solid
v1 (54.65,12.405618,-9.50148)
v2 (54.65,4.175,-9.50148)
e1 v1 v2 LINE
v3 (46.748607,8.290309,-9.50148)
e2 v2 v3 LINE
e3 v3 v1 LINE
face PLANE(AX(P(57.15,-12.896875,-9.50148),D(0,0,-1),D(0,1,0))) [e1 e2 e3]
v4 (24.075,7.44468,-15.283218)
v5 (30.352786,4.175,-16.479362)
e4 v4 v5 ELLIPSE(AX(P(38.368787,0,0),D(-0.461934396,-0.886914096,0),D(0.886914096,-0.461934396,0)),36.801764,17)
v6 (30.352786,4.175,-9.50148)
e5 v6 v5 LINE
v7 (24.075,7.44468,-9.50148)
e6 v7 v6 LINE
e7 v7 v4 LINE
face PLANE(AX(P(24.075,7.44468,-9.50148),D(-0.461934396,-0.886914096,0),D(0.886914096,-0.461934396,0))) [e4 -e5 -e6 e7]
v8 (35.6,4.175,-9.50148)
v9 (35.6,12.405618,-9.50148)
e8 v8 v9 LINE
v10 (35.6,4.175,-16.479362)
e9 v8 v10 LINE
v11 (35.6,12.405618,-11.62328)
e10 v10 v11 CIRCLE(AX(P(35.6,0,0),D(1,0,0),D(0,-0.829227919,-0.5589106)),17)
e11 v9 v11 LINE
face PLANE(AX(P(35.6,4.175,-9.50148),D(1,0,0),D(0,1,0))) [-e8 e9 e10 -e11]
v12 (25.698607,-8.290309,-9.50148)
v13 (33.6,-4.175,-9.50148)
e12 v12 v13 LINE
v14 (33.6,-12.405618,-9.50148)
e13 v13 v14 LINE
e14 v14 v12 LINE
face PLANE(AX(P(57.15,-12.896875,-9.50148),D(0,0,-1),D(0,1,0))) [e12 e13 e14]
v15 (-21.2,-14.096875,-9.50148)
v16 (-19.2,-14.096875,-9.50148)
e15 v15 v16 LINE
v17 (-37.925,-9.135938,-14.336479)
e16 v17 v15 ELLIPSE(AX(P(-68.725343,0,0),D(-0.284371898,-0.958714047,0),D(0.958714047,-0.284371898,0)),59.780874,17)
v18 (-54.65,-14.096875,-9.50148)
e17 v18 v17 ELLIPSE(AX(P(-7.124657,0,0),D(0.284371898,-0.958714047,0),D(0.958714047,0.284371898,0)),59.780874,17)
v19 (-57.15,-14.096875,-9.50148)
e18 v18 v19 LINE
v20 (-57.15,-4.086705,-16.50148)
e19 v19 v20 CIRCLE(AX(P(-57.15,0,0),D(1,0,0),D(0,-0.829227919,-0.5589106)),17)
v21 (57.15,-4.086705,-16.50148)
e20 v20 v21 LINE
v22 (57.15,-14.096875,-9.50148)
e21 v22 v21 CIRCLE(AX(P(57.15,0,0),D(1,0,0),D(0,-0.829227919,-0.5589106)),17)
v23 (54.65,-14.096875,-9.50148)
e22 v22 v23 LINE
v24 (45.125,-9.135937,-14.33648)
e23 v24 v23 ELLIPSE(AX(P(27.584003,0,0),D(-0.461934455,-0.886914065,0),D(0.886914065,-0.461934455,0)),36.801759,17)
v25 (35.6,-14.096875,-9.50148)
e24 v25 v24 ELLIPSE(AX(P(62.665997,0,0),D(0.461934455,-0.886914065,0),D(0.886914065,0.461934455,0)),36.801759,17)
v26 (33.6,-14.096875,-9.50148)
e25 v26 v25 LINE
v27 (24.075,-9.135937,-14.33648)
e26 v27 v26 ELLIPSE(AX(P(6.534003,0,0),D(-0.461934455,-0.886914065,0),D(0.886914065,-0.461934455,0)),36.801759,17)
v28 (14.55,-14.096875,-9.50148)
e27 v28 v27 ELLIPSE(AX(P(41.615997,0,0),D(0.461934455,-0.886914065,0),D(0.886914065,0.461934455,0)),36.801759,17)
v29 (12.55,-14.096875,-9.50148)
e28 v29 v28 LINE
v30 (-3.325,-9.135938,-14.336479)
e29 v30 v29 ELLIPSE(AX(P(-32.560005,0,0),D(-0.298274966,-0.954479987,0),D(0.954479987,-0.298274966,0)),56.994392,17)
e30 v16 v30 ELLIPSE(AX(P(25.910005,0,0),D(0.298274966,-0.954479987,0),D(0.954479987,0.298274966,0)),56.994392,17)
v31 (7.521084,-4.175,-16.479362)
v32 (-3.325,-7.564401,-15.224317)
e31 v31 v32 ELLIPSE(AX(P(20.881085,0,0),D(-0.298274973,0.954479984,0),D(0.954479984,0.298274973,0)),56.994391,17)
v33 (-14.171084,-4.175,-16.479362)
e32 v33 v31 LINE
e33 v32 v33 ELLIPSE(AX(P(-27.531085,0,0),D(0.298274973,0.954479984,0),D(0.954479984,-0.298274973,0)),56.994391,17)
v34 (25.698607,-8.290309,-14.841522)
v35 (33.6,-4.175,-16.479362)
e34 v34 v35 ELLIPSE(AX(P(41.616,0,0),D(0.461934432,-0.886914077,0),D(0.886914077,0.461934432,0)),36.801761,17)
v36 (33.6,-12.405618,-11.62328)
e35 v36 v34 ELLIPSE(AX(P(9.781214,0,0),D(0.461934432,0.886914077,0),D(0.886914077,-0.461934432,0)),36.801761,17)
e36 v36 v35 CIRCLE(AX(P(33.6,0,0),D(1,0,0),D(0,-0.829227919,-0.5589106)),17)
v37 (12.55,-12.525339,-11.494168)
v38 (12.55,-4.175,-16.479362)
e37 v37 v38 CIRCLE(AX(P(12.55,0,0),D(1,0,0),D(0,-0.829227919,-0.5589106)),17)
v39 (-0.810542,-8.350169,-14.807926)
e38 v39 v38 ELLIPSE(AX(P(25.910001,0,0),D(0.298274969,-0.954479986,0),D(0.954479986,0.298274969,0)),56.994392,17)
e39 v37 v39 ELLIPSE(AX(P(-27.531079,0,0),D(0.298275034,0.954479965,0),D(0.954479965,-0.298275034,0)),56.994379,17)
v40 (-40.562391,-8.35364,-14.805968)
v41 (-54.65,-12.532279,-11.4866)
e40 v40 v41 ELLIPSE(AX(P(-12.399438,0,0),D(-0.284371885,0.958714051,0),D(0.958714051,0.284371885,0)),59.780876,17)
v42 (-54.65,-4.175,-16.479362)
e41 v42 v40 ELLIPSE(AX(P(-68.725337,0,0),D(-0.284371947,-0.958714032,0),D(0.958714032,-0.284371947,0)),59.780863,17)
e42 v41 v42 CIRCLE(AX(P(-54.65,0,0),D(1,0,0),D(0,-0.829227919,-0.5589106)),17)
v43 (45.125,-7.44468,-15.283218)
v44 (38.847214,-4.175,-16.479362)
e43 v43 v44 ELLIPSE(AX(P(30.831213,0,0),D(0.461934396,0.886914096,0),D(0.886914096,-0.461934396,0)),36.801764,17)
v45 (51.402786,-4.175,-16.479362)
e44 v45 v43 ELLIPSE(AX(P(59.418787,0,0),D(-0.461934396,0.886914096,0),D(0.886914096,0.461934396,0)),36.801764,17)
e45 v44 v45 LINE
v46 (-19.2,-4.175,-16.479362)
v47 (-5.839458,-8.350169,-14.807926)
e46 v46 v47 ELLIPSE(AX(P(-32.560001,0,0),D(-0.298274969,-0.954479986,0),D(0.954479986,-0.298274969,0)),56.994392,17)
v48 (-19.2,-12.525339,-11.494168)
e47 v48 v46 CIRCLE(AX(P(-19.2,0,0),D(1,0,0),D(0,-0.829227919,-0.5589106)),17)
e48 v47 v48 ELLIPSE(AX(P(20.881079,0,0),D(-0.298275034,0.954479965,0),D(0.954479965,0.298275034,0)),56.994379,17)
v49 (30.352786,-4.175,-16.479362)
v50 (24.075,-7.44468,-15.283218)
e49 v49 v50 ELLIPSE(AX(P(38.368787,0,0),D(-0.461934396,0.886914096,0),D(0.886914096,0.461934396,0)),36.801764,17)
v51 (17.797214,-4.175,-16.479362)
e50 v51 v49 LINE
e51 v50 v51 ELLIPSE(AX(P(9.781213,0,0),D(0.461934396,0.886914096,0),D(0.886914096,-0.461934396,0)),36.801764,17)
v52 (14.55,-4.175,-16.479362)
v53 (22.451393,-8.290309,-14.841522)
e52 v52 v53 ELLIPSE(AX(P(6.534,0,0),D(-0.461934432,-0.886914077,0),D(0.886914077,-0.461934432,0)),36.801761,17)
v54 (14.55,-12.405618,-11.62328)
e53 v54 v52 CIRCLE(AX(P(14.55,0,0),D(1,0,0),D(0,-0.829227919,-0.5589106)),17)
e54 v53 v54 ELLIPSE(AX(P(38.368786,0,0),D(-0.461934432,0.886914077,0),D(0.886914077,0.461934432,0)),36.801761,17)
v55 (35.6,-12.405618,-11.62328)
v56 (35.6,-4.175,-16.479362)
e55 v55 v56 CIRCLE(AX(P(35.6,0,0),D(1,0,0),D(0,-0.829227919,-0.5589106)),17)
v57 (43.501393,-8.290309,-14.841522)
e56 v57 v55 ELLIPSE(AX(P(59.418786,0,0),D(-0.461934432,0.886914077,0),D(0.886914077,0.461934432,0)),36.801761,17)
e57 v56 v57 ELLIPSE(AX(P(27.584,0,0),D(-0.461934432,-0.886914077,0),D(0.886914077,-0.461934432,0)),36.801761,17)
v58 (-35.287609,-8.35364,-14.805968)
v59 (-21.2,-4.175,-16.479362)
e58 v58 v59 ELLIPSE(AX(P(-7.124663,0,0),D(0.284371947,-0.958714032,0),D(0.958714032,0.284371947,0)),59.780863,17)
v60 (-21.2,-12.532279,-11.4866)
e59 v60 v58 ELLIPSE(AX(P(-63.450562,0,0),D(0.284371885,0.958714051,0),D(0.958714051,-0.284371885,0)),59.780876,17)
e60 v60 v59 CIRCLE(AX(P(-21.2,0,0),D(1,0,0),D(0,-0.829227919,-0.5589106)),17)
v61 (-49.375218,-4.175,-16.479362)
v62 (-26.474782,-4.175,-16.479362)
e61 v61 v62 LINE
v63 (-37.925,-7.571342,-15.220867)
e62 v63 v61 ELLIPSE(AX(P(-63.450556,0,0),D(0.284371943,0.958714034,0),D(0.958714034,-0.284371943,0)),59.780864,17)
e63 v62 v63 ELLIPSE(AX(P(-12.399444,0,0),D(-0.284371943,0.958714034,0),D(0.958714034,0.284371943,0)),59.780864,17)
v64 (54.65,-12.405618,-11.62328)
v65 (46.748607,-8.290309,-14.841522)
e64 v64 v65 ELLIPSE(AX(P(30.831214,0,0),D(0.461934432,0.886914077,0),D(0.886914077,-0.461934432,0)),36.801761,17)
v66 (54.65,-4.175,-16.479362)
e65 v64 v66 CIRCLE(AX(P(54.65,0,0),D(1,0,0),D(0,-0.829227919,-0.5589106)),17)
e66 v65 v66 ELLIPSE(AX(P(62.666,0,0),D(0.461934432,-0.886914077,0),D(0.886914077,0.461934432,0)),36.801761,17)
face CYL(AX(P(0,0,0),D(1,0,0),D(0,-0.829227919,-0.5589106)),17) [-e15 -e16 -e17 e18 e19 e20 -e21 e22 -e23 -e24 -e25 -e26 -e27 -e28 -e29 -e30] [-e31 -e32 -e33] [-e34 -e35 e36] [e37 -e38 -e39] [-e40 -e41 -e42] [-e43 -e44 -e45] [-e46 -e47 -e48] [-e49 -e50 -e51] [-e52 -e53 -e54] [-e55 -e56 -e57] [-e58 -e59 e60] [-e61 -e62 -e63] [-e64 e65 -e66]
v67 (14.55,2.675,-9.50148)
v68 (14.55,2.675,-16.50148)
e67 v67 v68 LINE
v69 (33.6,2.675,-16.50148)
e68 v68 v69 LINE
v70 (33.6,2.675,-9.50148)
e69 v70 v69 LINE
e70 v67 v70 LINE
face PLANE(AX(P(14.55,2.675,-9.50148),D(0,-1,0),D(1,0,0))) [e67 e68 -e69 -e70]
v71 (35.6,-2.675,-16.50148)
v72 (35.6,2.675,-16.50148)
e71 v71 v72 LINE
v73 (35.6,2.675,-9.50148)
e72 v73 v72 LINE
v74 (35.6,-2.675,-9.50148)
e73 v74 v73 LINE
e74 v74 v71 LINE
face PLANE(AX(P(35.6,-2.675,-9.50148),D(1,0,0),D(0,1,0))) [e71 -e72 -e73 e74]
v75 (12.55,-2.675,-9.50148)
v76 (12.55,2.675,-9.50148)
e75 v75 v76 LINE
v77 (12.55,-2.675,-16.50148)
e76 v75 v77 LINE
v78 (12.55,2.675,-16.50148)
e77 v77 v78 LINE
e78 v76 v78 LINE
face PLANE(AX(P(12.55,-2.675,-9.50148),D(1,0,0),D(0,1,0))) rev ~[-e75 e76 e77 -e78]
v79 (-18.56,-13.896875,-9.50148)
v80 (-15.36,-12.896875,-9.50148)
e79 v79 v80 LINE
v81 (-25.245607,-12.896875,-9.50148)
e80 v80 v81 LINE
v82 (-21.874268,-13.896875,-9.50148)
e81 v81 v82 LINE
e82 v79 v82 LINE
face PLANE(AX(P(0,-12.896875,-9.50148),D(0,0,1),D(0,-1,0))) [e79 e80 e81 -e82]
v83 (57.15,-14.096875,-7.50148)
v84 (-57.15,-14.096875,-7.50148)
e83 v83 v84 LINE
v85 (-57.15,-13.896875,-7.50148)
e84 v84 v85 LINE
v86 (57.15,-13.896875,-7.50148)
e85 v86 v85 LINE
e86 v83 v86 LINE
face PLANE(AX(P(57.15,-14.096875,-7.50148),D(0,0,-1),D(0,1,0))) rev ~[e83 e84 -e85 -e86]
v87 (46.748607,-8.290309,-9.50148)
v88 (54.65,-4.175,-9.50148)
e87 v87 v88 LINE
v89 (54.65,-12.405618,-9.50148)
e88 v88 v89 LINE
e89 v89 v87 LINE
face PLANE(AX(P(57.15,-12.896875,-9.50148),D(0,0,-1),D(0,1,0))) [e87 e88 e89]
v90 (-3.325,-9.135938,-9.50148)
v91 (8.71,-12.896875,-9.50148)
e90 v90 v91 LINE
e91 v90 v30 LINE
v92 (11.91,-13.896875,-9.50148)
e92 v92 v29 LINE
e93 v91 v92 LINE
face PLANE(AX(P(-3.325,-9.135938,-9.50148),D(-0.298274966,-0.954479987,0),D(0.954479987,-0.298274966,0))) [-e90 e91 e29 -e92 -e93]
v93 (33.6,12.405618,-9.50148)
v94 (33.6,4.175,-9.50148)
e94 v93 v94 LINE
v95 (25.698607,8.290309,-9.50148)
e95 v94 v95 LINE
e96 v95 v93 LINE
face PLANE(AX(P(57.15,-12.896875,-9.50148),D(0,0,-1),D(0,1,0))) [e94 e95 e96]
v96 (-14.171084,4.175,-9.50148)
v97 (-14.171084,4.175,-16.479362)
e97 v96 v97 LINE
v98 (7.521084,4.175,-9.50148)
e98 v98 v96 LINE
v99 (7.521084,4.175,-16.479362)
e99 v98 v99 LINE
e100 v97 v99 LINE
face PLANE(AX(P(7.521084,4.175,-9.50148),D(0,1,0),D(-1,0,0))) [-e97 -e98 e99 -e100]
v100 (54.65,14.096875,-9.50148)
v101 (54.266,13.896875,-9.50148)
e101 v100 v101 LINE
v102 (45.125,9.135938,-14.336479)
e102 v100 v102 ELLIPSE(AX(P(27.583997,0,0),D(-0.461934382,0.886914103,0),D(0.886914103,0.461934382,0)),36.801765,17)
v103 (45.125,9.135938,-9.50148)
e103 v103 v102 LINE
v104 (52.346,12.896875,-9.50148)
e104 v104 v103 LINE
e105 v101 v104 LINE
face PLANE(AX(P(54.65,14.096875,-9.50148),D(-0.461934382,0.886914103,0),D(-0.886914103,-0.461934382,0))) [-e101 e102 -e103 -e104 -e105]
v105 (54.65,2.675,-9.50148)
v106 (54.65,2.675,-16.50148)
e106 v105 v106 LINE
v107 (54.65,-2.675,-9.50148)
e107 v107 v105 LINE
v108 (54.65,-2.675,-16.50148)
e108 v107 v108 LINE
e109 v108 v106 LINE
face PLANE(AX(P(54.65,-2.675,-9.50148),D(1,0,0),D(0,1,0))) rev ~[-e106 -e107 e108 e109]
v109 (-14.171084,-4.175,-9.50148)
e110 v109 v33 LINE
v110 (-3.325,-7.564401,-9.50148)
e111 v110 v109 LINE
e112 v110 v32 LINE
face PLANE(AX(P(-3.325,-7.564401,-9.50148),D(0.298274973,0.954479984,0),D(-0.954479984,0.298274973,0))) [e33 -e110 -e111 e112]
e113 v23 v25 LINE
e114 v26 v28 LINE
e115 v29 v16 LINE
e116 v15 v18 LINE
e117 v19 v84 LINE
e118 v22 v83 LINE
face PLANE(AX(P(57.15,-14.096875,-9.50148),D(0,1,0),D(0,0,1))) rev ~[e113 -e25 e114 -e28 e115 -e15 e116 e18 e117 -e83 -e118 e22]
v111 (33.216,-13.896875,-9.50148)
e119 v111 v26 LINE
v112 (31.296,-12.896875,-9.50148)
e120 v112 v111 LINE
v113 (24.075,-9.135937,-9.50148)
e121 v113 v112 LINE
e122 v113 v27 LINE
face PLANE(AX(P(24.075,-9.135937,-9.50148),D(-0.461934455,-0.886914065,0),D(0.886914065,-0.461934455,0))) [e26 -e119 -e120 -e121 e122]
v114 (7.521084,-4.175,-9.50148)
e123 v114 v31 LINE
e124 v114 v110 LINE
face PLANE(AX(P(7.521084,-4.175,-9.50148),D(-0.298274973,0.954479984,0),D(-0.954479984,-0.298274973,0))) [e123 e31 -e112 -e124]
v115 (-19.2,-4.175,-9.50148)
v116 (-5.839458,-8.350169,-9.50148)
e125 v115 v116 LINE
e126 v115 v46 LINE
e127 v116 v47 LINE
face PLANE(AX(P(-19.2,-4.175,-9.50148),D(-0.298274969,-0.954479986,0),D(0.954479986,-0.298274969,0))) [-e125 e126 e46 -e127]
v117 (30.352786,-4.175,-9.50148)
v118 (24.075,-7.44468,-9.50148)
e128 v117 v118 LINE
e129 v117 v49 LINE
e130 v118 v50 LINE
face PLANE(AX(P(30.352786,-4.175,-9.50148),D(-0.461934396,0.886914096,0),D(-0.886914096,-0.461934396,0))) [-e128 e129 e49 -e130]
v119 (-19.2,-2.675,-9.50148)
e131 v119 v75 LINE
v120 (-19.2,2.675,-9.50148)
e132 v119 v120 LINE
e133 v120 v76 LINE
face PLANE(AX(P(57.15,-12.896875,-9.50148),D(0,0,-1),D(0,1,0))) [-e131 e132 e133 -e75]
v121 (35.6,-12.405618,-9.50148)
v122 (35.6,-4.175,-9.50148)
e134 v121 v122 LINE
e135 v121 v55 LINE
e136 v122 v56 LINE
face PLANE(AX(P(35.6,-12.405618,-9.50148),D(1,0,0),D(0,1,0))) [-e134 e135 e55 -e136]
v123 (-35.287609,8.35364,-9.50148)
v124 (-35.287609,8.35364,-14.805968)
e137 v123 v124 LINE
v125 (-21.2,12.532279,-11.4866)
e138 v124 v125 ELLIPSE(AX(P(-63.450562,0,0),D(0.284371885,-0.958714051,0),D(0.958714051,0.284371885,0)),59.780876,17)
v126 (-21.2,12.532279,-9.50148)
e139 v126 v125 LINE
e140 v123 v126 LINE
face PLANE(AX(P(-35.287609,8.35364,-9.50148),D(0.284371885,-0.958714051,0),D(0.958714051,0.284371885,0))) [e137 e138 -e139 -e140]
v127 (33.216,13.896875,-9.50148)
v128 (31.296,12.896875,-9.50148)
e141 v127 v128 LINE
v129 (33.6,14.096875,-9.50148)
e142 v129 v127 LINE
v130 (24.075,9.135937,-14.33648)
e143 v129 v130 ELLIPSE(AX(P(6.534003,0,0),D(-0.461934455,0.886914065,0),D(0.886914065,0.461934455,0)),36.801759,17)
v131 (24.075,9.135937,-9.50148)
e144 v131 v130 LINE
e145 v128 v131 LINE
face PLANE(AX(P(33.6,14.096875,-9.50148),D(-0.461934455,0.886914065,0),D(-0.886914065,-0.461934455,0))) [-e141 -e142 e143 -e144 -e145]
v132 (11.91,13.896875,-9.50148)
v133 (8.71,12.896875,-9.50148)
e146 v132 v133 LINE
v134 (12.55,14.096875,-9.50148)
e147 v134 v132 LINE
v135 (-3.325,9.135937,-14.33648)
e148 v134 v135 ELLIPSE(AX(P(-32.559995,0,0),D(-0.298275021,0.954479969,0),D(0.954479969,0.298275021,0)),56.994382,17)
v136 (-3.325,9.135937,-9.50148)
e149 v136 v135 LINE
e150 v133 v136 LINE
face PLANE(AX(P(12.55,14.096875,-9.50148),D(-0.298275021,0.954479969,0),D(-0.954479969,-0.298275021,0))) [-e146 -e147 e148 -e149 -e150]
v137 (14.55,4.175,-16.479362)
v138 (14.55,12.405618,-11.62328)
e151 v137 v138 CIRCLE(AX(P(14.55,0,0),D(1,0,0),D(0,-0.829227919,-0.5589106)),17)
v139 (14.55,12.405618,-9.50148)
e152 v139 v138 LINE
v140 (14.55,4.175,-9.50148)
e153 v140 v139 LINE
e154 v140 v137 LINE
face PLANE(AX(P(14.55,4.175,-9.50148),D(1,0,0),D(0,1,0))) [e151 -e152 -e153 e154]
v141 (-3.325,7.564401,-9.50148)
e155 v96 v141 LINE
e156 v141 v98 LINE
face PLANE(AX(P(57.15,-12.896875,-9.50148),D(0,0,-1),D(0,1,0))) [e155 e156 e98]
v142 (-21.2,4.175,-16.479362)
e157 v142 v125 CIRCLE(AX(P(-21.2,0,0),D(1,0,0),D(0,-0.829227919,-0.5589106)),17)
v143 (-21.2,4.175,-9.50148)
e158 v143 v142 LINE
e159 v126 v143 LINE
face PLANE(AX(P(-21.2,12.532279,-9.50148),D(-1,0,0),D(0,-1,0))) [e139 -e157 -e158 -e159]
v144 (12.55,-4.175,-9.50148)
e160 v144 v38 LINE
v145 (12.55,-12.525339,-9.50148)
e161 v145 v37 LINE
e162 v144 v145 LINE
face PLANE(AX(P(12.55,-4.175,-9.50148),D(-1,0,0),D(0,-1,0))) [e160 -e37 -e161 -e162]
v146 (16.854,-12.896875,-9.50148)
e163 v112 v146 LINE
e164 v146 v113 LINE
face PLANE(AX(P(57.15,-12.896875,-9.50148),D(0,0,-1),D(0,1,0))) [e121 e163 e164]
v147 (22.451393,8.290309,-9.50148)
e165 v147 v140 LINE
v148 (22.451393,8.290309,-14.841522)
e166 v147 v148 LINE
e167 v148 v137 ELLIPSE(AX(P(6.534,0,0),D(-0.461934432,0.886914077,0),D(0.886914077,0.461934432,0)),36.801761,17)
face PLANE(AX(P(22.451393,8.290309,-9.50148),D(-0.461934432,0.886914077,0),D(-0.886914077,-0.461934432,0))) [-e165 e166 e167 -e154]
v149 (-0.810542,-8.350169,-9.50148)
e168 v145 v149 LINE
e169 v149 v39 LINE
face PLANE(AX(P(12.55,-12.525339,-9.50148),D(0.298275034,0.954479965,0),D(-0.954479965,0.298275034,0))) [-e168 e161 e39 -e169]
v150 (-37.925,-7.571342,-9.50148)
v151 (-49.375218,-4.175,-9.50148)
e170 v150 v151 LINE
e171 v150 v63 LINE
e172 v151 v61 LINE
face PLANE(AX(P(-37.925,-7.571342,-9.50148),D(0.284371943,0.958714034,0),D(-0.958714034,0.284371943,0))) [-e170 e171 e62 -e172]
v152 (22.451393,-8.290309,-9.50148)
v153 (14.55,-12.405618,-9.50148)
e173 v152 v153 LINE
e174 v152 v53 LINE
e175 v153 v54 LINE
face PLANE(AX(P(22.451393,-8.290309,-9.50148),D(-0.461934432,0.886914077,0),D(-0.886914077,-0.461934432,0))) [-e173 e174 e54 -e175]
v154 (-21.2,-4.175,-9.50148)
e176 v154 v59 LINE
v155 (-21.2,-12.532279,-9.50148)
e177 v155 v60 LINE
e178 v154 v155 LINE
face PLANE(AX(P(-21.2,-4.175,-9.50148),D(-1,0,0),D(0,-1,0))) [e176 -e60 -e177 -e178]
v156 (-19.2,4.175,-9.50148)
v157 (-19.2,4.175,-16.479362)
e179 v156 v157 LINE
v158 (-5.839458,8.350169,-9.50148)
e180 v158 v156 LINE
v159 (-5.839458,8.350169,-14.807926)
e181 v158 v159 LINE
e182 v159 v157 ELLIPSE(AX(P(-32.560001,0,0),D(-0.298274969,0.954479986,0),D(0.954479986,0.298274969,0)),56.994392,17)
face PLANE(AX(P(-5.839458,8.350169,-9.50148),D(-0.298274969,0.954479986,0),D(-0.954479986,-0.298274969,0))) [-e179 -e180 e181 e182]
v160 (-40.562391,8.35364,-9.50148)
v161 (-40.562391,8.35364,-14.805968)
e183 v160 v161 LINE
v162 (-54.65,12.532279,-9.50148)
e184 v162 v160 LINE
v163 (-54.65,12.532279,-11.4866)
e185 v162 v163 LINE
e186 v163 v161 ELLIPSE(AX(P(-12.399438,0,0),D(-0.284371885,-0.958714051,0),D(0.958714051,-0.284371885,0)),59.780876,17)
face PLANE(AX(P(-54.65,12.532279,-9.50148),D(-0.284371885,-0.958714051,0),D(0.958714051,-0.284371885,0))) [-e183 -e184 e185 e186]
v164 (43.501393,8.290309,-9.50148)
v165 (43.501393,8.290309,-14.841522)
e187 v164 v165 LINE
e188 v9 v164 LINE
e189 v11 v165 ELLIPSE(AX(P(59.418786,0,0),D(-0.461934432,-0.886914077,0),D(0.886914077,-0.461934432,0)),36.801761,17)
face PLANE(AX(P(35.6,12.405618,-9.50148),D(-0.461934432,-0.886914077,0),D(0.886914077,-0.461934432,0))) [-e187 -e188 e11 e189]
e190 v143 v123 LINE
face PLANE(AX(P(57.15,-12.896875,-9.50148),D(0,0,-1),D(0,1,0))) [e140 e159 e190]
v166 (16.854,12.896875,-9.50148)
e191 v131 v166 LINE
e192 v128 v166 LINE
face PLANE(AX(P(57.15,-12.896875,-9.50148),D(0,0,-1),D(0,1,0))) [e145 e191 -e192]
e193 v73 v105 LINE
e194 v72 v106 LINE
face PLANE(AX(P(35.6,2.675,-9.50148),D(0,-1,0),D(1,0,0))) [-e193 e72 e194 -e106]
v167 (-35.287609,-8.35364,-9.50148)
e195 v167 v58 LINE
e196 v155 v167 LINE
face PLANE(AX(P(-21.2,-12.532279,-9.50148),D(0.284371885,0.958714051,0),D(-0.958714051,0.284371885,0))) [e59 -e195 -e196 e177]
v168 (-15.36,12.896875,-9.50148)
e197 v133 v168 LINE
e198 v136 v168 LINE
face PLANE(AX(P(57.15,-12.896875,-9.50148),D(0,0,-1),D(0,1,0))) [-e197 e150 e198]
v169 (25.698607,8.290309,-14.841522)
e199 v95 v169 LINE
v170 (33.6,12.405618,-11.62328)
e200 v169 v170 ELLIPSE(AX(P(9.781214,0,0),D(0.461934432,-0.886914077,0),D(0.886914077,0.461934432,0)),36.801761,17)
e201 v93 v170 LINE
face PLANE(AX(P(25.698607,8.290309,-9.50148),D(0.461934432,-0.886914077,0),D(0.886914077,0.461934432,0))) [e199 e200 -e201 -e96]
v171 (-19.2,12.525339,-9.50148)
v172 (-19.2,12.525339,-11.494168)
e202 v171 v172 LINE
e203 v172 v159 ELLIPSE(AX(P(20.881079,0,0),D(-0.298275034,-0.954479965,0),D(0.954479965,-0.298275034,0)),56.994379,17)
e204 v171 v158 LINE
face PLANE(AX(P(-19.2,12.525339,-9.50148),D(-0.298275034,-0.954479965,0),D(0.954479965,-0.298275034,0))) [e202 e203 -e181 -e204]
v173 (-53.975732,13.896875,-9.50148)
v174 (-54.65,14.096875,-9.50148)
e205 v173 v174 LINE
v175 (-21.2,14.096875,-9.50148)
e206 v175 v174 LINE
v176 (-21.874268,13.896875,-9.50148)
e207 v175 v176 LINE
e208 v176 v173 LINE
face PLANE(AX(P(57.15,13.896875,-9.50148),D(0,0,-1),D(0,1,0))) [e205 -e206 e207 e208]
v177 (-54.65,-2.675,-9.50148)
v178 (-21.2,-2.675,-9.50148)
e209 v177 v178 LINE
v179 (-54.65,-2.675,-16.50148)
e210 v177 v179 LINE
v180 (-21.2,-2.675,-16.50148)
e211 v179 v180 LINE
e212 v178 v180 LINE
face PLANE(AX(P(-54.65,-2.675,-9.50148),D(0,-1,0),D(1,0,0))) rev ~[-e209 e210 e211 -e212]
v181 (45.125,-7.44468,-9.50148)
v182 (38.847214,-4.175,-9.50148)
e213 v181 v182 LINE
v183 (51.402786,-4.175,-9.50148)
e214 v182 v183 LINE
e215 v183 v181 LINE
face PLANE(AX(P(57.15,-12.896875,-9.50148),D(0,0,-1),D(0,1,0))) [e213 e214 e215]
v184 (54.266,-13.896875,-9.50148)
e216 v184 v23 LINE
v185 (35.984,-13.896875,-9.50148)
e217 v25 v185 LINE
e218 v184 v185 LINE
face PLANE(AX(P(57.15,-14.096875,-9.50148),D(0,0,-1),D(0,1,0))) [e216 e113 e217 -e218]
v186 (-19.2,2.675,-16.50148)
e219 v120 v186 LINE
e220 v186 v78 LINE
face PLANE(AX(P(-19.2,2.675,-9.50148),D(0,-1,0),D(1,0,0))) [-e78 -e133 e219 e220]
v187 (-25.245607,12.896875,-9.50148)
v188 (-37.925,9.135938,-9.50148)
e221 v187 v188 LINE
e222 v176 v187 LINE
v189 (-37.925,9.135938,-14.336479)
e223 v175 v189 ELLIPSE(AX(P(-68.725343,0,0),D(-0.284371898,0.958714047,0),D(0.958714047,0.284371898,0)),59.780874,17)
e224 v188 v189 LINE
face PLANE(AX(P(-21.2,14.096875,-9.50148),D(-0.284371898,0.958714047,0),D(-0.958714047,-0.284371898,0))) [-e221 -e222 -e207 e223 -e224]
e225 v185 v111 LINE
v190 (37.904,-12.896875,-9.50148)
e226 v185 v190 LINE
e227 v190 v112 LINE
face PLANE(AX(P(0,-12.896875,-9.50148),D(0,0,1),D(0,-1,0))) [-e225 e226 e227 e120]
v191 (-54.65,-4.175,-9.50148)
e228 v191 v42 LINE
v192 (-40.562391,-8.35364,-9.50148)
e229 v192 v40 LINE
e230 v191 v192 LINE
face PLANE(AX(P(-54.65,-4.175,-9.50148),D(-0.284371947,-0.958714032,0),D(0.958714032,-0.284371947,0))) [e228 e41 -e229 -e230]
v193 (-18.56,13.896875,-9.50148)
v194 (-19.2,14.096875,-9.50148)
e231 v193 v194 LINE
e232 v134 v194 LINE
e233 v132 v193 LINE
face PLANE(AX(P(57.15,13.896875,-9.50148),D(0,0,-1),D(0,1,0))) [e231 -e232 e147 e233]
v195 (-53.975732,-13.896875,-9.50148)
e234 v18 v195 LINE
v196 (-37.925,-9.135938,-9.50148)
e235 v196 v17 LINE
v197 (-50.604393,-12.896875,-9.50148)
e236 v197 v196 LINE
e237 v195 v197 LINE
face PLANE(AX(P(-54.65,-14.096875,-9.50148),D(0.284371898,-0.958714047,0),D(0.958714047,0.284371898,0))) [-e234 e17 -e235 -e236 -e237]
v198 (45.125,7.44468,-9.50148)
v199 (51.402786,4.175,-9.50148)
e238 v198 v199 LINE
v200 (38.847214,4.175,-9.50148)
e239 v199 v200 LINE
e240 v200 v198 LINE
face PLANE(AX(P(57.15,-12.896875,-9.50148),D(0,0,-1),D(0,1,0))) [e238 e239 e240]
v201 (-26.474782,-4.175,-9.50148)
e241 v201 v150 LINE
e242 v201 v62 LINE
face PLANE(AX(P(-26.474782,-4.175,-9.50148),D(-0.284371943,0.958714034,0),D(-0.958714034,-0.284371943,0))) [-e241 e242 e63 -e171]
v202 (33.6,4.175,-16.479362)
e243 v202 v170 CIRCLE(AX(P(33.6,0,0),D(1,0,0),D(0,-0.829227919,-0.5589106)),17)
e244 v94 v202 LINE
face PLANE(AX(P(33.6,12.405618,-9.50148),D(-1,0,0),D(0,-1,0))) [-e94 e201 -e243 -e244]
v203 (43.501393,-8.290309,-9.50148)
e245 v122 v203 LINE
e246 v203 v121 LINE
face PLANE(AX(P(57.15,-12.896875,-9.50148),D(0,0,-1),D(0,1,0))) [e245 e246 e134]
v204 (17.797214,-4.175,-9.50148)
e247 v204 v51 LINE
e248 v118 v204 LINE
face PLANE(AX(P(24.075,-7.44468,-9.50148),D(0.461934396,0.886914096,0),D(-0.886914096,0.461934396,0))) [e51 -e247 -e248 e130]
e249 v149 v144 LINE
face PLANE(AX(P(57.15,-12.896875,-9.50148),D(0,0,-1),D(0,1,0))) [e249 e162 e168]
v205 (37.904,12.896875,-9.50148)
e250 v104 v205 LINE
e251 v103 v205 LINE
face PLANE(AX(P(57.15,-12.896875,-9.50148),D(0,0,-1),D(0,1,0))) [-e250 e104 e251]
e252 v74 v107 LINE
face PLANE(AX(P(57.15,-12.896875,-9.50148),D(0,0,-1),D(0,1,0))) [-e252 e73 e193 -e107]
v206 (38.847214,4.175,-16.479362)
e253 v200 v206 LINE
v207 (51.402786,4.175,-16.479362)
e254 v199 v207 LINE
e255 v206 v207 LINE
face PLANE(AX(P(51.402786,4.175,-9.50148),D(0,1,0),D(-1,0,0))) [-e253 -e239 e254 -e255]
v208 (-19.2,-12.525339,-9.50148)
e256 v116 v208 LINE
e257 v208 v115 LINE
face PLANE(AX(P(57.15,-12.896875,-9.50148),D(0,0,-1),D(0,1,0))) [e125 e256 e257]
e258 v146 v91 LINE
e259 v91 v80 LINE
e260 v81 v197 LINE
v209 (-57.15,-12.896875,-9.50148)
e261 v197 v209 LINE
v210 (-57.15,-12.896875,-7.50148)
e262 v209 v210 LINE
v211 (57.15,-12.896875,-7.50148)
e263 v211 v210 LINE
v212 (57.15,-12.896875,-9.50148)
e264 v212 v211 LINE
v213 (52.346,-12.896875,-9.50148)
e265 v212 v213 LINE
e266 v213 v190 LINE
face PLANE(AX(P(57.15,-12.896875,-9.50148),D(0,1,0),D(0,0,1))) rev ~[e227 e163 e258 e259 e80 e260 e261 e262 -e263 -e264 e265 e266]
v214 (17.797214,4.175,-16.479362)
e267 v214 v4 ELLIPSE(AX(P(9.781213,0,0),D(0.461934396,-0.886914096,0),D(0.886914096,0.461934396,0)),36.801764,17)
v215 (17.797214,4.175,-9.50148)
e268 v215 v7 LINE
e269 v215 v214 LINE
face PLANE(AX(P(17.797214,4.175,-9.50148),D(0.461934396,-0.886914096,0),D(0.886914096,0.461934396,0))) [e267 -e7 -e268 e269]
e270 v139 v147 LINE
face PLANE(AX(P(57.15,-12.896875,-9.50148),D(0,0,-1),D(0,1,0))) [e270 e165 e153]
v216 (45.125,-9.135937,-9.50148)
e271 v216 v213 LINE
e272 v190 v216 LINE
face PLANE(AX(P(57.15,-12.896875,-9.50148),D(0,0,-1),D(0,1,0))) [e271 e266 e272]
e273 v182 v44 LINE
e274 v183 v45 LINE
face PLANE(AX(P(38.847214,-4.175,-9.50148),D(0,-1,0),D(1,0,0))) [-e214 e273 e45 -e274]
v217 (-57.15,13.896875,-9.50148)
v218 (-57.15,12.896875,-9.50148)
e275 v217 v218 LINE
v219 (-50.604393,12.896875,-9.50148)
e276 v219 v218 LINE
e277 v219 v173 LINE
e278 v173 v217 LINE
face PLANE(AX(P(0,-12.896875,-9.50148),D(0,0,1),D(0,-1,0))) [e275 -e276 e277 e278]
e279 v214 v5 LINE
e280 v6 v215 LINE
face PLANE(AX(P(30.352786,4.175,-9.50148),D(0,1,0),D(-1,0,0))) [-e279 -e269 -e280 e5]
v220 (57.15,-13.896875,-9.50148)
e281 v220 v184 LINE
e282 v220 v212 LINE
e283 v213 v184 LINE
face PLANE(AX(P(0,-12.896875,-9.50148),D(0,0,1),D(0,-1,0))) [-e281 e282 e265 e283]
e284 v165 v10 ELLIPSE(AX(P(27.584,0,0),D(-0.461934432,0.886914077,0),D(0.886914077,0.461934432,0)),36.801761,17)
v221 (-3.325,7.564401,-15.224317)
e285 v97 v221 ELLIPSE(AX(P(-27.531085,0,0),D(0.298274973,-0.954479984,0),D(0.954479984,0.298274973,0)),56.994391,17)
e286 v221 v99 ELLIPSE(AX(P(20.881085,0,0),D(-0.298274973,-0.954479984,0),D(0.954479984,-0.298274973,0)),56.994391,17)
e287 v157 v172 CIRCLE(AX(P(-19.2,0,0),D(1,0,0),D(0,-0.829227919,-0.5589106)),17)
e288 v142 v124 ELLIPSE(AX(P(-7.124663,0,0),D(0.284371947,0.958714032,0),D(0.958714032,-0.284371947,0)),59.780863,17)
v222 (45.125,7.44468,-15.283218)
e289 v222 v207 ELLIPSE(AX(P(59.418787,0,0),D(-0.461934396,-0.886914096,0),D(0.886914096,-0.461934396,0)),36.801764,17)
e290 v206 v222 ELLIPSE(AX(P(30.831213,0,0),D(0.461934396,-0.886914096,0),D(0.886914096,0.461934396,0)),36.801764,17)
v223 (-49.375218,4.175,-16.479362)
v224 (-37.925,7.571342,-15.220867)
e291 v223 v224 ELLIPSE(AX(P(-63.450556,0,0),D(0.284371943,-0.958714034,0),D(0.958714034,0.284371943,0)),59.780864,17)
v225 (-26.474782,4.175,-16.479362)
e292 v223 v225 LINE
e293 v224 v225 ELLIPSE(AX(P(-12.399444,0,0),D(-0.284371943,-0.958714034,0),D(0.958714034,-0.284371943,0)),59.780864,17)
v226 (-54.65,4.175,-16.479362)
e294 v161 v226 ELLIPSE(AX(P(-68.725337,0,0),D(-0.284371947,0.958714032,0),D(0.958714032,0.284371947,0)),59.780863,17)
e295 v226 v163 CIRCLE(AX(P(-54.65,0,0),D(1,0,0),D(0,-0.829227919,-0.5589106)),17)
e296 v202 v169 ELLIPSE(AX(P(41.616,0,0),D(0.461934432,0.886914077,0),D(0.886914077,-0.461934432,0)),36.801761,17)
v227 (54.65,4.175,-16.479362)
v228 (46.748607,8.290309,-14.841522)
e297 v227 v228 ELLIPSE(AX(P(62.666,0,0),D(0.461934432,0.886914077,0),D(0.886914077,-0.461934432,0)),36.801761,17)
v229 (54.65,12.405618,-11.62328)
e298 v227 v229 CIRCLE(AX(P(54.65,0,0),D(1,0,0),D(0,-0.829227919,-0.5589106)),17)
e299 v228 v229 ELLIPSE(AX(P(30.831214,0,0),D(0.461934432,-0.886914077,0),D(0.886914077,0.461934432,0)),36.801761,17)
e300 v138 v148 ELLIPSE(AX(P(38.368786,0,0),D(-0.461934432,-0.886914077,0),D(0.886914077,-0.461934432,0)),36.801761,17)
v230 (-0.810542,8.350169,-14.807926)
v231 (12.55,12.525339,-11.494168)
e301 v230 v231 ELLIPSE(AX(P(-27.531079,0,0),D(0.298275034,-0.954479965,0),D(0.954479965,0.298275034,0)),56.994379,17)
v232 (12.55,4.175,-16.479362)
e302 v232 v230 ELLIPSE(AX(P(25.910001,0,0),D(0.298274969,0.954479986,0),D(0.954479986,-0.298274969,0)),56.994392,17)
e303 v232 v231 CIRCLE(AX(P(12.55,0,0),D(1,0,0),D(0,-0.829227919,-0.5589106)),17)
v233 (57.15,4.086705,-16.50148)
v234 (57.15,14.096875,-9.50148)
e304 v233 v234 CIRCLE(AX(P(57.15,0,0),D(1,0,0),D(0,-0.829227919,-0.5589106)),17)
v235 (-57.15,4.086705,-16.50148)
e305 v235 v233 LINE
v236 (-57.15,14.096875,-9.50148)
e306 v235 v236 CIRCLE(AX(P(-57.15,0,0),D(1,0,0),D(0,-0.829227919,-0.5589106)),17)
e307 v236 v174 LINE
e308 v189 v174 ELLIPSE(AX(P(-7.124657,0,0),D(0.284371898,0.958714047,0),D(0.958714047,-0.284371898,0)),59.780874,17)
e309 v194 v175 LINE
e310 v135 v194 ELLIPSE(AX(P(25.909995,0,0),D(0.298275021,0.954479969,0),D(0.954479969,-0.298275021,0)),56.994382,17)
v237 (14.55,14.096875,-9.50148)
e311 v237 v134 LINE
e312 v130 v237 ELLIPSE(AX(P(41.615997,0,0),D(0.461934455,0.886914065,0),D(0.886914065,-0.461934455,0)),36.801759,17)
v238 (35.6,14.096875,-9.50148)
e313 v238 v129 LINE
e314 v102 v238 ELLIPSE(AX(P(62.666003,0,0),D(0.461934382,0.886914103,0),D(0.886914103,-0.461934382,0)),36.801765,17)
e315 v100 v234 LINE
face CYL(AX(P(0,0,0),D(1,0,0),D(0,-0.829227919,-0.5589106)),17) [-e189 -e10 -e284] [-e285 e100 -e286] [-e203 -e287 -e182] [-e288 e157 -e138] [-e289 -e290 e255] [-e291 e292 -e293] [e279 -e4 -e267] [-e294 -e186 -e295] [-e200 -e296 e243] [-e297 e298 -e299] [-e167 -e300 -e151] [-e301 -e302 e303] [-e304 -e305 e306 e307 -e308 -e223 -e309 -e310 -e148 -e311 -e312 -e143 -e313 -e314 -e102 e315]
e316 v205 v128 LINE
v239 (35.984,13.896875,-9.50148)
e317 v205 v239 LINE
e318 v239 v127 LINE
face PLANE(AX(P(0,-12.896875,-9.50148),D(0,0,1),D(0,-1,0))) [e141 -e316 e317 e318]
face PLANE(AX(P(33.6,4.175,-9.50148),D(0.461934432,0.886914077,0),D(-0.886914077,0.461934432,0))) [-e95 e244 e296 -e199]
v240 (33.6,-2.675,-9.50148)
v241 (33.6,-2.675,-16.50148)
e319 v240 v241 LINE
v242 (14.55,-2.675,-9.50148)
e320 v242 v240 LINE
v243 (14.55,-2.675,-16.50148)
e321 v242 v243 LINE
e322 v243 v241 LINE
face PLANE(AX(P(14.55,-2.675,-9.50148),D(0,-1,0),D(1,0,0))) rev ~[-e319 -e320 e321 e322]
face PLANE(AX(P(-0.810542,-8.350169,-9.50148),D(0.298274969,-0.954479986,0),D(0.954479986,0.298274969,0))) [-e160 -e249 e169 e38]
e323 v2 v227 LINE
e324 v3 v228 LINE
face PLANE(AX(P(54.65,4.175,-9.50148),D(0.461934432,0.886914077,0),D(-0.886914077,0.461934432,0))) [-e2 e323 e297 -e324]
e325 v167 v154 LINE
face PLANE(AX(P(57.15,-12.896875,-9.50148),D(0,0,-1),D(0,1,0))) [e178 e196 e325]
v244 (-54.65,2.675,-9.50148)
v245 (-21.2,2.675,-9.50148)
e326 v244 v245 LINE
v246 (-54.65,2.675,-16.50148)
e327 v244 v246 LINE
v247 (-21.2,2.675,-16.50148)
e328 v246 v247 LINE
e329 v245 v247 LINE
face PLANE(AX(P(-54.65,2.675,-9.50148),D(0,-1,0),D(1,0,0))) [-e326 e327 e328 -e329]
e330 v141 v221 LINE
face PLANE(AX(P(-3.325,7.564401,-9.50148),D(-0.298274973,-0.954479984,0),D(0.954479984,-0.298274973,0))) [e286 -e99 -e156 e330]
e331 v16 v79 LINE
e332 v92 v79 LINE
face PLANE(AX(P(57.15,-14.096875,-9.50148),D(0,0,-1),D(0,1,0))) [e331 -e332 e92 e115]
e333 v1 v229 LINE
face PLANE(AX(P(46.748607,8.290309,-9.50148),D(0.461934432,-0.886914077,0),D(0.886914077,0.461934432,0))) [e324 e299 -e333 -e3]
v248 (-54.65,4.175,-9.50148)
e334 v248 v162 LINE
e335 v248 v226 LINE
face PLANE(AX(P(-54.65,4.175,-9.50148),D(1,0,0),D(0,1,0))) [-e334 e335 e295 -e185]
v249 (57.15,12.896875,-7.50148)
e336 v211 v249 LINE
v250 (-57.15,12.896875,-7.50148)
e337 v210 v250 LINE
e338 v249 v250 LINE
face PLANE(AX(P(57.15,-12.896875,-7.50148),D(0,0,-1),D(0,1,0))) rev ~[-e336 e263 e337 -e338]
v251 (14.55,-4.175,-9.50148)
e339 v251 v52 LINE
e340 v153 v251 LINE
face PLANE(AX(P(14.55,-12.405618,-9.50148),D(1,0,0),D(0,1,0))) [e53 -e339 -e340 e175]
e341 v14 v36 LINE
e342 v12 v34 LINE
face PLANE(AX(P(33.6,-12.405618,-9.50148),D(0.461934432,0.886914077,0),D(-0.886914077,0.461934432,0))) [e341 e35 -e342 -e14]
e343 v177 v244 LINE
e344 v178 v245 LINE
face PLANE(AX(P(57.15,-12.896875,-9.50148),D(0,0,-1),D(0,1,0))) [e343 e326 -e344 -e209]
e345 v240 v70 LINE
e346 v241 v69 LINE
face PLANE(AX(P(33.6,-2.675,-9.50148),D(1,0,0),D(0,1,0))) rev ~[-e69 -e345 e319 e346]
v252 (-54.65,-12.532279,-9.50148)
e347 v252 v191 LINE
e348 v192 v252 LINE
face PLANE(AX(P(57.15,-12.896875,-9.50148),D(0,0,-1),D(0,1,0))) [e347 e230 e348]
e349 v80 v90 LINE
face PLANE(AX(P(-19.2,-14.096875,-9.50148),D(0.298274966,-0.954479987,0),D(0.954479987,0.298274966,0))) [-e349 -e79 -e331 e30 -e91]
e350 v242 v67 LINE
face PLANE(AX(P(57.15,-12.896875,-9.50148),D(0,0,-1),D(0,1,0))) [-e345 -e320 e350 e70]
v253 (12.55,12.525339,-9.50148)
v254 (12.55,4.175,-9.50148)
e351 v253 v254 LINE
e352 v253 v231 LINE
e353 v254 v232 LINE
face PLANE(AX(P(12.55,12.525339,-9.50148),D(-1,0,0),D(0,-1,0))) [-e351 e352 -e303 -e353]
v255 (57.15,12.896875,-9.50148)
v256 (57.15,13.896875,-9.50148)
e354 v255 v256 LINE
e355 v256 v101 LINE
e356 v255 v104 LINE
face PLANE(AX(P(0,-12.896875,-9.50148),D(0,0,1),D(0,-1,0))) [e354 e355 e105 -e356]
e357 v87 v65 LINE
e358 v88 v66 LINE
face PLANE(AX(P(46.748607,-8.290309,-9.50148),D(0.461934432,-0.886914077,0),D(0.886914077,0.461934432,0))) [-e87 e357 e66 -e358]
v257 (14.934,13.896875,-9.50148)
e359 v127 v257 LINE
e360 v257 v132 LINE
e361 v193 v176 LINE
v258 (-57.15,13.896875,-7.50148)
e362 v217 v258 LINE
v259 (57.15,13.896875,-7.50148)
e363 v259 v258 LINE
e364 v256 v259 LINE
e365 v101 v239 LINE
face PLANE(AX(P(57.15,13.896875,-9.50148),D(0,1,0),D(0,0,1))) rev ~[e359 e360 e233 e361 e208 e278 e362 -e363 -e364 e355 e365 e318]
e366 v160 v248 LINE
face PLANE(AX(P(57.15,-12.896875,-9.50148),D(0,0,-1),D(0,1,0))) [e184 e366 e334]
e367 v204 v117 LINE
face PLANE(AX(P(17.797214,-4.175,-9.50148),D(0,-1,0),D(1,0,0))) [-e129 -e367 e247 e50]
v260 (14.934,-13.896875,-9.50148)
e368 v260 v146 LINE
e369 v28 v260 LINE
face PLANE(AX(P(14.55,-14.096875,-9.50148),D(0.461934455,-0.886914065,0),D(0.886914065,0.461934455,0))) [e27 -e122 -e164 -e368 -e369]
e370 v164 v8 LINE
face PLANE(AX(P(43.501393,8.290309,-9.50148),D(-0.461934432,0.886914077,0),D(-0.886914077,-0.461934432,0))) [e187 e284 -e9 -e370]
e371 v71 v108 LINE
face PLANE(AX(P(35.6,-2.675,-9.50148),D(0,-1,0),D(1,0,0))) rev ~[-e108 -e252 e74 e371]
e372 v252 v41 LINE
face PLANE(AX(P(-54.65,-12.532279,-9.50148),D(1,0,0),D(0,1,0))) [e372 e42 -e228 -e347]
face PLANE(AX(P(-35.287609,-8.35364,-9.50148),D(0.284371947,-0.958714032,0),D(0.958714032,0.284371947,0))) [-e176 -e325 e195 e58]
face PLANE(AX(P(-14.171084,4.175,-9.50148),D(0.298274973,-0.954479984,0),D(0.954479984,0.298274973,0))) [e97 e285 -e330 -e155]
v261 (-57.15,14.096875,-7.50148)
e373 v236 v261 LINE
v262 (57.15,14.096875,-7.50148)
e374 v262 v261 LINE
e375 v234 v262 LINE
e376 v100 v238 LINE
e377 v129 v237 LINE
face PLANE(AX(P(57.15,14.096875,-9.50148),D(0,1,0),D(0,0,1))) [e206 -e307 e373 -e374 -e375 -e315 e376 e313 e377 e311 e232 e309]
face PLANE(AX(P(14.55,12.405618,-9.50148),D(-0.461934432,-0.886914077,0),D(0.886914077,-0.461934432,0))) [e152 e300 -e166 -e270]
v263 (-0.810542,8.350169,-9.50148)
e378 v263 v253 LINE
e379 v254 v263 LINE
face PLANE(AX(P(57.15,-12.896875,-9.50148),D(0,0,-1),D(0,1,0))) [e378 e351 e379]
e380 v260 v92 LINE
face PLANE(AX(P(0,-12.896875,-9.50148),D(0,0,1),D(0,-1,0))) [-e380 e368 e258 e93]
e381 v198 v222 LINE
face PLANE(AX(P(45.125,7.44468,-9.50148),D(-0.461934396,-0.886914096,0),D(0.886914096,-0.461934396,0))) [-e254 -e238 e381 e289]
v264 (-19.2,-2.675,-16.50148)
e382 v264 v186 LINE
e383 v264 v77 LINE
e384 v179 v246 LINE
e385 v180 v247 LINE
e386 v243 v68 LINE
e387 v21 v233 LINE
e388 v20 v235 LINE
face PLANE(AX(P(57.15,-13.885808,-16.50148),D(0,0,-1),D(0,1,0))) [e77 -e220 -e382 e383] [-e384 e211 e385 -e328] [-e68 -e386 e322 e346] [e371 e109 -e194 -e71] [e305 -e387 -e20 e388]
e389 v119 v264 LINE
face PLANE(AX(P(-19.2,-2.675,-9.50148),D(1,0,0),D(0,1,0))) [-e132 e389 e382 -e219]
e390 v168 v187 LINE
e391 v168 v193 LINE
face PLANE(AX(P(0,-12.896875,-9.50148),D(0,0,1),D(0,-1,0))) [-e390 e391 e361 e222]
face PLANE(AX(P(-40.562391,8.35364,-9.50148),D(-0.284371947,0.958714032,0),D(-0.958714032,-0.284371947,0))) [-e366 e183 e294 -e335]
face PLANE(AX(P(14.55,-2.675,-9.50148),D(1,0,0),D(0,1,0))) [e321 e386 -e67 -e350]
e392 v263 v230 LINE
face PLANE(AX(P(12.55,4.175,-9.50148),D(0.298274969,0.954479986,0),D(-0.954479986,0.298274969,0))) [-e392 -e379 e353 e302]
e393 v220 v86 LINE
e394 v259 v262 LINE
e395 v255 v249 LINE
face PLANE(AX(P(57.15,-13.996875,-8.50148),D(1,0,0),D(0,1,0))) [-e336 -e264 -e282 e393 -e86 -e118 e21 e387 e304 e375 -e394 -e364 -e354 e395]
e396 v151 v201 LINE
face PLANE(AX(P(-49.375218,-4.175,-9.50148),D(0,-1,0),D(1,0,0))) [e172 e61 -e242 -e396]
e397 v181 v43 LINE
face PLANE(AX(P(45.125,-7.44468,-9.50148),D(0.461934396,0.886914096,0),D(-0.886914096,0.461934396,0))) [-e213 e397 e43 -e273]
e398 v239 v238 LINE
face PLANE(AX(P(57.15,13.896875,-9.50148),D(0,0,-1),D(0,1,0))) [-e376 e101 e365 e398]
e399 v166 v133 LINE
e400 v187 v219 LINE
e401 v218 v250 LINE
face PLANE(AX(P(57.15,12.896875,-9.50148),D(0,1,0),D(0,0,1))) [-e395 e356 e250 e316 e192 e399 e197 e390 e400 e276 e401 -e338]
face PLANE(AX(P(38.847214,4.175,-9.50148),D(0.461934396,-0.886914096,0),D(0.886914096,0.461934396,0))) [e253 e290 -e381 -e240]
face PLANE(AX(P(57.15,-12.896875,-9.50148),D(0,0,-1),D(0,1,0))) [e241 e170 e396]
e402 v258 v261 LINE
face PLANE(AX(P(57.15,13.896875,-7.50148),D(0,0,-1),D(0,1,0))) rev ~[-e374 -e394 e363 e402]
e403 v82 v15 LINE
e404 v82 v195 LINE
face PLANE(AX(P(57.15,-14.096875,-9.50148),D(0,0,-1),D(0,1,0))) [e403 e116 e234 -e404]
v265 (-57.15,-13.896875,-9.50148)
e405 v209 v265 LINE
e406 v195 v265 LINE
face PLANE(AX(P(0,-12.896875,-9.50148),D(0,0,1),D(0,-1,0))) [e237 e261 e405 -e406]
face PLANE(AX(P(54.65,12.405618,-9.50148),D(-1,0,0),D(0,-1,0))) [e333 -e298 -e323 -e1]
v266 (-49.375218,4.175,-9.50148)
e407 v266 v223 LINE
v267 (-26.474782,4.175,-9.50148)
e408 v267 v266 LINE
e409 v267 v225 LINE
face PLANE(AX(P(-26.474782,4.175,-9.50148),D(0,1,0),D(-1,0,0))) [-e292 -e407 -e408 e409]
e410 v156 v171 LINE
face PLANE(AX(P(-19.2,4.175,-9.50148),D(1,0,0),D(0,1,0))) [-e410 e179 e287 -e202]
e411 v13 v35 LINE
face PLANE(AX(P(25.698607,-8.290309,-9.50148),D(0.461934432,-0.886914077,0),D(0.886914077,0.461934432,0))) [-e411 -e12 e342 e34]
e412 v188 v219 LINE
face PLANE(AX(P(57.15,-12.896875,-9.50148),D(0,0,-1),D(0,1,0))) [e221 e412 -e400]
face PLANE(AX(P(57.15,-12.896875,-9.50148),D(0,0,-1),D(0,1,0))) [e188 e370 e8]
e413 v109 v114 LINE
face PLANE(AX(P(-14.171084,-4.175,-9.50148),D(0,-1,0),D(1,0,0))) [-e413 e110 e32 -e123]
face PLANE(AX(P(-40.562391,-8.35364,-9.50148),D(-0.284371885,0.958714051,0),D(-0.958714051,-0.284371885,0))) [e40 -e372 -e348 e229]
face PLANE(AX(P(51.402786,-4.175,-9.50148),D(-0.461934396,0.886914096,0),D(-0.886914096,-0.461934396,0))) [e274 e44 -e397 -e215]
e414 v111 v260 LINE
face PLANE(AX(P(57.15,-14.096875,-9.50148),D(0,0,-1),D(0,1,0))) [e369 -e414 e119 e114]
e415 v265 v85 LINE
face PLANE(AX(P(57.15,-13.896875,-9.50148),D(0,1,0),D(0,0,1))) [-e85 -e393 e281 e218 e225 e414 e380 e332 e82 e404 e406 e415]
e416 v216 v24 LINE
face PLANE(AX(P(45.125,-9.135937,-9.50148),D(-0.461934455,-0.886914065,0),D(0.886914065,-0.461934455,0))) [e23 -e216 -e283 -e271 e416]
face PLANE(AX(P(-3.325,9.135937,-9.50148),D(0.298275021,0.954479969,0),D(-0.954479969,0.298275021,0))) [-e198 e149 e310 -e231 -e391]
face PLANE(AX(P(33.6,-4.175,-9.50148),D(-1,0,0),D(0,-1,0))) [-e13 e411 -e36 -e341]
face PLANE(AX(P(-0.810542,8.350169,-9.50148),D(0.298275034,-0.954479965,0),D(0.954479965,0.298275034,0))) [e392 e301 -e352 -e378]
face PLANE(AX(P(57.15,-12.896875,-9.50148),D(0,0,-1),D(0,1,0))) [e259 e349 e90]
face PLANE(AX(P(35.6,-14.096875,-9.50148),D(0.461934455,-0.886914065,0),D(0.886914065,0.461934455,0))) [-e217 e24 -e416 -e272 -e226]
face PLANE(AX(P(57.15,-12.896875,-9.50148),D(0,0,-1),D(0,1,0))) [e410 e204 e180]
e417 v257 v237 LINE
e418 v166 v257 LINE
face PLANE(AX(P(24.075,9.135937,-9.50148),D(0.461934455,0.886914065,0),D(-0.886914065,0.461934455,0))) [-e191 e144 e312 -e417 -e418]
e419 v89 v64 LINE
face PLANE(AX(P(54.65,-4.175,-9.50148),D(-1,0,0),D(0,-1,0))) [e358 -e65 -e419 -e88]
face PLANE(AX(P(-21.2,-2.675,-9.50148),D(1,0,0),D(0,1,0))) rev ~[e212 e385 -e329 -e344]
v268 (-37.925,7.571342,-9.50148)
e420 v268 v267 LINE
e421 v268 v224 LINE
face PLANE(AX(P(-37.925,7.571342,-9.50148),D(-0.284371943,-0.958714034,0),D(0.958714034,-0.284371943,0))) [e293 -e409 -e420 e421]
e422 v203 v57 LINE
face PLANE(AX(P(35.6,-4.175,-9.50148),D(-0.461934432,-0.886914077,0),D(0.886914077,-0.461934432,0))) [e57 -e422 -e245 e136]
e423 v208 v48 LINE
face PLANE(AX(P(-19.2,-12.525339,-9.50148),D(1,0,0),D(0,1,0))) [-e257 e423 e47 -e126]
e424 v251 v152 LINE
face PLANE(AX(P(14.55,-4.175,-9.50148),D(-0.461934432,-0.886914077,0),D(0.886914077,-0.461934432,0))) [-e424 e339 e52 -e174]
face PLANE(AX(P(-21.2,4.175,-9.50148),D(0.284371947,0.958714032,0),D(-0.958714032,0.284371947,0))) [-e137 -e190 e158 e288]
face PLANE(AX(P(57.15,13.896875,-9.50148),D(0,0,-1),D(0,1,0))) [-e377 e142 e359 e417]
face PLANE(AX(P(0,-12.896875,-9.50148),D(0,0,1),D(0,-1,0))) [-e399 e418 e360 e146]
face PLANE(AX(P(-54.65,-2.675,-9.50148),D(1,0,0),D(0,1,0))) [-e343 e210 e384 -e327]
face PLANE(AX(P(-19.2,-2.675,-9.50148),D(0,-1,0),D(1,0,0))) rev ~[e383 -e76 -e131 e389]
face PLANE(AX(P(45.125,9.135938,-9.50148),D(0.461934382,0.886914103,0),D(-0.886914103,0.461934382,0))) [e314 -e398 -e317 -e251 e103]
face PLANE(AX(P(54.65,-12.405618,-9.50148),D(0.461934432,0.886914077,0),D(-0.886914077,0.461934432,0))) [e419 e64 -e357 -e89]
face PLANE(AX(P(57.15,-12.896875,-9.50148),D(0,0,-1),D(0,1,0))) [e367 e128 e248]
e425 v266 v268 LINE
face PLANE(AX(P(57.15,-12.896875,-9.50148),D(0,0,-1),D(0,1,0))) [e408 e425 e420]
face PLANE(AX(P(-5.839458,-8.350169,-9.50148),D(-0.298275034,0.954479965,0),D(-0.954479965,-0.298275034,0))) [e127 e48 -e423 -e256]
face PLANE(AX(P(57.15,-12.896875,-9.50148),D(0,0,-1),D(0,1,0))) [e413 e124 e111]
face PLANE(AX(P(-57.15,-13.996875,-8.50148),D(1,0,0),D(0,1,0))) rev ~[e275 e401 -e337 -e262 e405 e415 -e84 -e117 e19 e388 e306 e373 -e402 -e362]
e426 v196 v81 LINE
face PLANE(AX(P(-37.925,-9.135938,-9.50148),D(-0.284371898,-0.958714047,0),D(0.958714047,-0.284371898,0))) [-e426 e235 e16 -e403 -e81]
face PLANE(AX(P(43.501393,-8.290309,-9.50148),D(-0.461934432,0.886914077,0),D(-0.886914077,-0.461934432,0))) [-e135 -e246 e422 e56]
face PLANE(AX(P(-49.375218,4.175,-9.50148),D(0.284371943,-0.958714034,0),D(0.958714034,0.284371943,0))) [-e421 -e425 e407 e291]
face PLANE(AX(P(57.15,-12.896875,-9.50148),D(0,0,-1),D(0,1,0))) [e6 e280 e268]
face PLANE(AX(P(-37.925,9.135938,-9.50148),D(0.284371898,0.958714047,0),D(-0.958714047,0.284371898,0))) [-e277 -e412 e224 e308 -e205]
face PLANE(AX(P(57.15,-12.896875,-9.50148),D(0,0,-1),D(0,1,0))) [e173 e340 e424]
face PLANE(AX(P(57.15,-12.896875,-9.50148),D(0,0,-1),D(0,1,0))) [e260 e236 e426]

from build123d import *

# Parameters (mm, degrees)
F0_W      = 25.79375
F0_H      = 2
F2_DEPTH  = 57.15
F3_W      = 33.45
F3_H      = 5.35
F3_W_2    = 31.75
F3_W_3    = 19.05
F4_DEPTH  = 25.4
F5_W      = 25.79375
F5_H      = 2
F6_DEPTH  = 114.3
F7_W      = 24.949031
F7_H      = 4.702146
F8_DEPTH  = 114.3
F9_W      = 0.2
F9_H      = 2
F10_DEPTH = 114.3


with BuildPart() as f2:
    # F0 (on Right) → F2 (new body, symmetric)
    with BuildSketch(Plane.YZ):
        with BuildLine():
            Line((-12.896875, -9.50148), (-14.096875, -9.50148))
            ThreePointArc((-14.096875, -9.50148), (0, -17), (14.096875, -9.50148))
            Line((14.096875, -9.50148), (12.896875, -9.50148))
            Line((12.896875, -9.50148), (-12.896875, -9.50148))
        make_face()
        with Locations((0, -8.50148)):
            Rectangle(F0_W, F0_H)
    extrude(amount=F2_DEPTH, both=True)

    # F3 (on face) → F4 (intersect)
    with BuildSketch(Plane.XY.offset(-9.50148)):
        Polygon((-54.65, 14.096875), (-57.15, 14.096875), (-57.15, -14.096875), (-54.65, -14.096875), (-37.925, -9.135938), (-21.2, -14.096875), (-19.2, -14.096875), (-3.325, -9.135938), (12.55, -14.096875), (14.55, -14.096875), (24.075, -9.135937), (33.6, -14.096875), (35.6, -14.096875), (45.125, -9.135937), (54.65, -14.096875), (57.15, -14.096875), (57.15, 14.096875), (54.65, 14.096875), (45.125, 9.135938), (35.6, 14.096875), (33.6, 14.096875), (24.075, 9.135937), (14.55, 14.096875), (12.55, 14.096875), (-3.325, 9.135937), (-19.2, 14.096875), (-21.2, 14.096875), (-37.925, 9.135938), align=None)
        Polygon((-40.562391, -8.35364), (-54.65, -12.532279), (-54.65, -4.175), align=None, mode=Mode.SUBTRACT)
        Polygon((-21.2, -4.175), (-21.2, -12.532279), (-35.287609, -8.35364), align=None, mode=Mode.SUBTRACT)
        Polygon((-5.839458, -8.350169), (-19.2, -12.525339), (-19.2, -4.175), align=None, mode=Mode.SUBTRACT)
        Polygon((-37.925, -7.571342), (-49.375218, -4.175), (-26.474782, -4.175), align=None, mode=Mode.SUBTRACT)
        Polygon((-3.325, -7.564401), (-14.171084, -4.175), (7.521084, -4.175), align=None, mode=Mode.SUBTRACT)
        Polygon((12.55, -4.175), (12.55, -12.525339), (-0.810542, -8.350169), align=None, mode=Mode.SUBTRACT)
        Polygon((22.451393, -8.290309), (14.55, -12.405618), (14.55, -4.175), align=None, mode=Mode.SUBTRACT)
        Polygon((33.6, -4.175), (33.6, -12.405618), (25.698607, -8.290309), align=None, mode=Mode.SUBTRACT)
        Polygon((43.501393, -8.290309), (35.6, -12.405618), (35.6, -4.175), align=None, mode=Mode.SUBTRACT)
        Polygon((54.65, -4.175), (54.65, -12.405618), (46.748607, -8.290309), align=None, mode=Mode.SUBTRACT)
        Polygon((24.075, -7.44468), (17.797214, -4.175), (30.352786, -4.175), align=None, mode=Mode.SUBTRACT)
        Polygon((45.125, -7.44468), (38.847214, -4.175), (51.402786, -4.175), align=None, mode=Mode.SUBTRACT)
        with Locations((-37.925, 0)):
            Rectangle(F3_W, F3_H, mode=Mode.SUBTRACT)
        Polygon((-26.474782, 4.175), (-49.375218, 4.175), (-37.925, 7.571342), align=None, mode=Mode.SUBTRACT)
        with Locations((-3.325, 0)):
            Rectangle(F3_W_2, F3_H, mode=Mode.SUBTRACT)
        Polygon((7.521084, 4.175), (-14.171084, 4.175), (-3.325, 7.564401), align=None, mode=Mode.SUBTRACT)
        Polygon((-40.562391, 8.35364), (-54.65, 4.175), (-54.65, 12.532279), align=None, mode=Mode.SUBTRACT)
        Polygon((-21.2, 12.532279), (-21.2, 4.175), (-35.287609, 8.35364), align=None, mode=Mode.SUBTRACT)
        Polygon((-5.839458, 8.350169), (-19.2, 4.175), (-19.2, 12.525339), align=None, mode=Mode.SUBTRACT)
        with Locations((24.075, 0)):
            Rectangle(F3_W_3, F3_H, mode=Mode.SUBTRACT)
        Polygon((30.352786, 4.175), (17.797214, 4.175), (24.075, 7.44468), align=None, mode=Mode.SUBTRACT)
        with Locations((45.125, 0)):
            Rectangle(F3_W_3, F3_H, mode=Mode.SUBTRACT)
        Polygon((51.402786, 4.175), (38.847214, 4.175), (45.125, 7.44468), align=None, mode=Mode.SUBTRACT)
        Polygon((12.55, 12.525339), (12.55, 4.175), (-0.810542, 8.350169), align=None, mode=Mode.SUBTRACT)
        Polygon((22.451393, 8.290309), (14.55, 4.175), (14.55, 12.405618), align=None, mode=Mode.SUBTRACT)
        Polygon((33.6, 12.405618), (33.6, 4.175), (25.698607, 8.290309), align=None, mode=Mode.SUBTRACT)
        Polygon((43.501393, 8.290309), (35.6, 4.175), (35.6, 12.405618), align=None, mode=Mode.SUBTRACT)
        Polygon((54.65, 12.405618), (54.65, 4.175), (46.748607, 8.290309), align=None, mode=Mode.SUBTRACT)
    extrude(amount=-F4_DEPTH, mode=Mode.INTERSECT)

    # F5 (on face) → F6 (join)
    with BuildSketch(Plane.YZ.offset(57.15)):
        with Locations((0, -8.50148)):
            Rectangle(F5_W, F5_H)
    extrude(amount=-F6_DEPTH)

    # F7 (on face) → F8 (cut)
    with BuildSketch(Plane.YZ.offset(57.15)):
        with Locations((-1.411293, -18.852553)):
            Rectangle(F7_W, F7_H)
    extrude(amount=-F8_DEPTH, mode=Mode.SUBTRACT)

    # F9 (on face) → F10 (join)
    with BuildSketch(Plane.YZ.offset(57.15)):
        with Locations((-13.996875, -8.50148)):
            Rectangle(F9_W, F9_H)
        with Locations((13.996875, -8.50148)):
            Rectangle(F9_W, F9_H)
    extrude(amount=-F10_DEPTH)


solid = f2.part
